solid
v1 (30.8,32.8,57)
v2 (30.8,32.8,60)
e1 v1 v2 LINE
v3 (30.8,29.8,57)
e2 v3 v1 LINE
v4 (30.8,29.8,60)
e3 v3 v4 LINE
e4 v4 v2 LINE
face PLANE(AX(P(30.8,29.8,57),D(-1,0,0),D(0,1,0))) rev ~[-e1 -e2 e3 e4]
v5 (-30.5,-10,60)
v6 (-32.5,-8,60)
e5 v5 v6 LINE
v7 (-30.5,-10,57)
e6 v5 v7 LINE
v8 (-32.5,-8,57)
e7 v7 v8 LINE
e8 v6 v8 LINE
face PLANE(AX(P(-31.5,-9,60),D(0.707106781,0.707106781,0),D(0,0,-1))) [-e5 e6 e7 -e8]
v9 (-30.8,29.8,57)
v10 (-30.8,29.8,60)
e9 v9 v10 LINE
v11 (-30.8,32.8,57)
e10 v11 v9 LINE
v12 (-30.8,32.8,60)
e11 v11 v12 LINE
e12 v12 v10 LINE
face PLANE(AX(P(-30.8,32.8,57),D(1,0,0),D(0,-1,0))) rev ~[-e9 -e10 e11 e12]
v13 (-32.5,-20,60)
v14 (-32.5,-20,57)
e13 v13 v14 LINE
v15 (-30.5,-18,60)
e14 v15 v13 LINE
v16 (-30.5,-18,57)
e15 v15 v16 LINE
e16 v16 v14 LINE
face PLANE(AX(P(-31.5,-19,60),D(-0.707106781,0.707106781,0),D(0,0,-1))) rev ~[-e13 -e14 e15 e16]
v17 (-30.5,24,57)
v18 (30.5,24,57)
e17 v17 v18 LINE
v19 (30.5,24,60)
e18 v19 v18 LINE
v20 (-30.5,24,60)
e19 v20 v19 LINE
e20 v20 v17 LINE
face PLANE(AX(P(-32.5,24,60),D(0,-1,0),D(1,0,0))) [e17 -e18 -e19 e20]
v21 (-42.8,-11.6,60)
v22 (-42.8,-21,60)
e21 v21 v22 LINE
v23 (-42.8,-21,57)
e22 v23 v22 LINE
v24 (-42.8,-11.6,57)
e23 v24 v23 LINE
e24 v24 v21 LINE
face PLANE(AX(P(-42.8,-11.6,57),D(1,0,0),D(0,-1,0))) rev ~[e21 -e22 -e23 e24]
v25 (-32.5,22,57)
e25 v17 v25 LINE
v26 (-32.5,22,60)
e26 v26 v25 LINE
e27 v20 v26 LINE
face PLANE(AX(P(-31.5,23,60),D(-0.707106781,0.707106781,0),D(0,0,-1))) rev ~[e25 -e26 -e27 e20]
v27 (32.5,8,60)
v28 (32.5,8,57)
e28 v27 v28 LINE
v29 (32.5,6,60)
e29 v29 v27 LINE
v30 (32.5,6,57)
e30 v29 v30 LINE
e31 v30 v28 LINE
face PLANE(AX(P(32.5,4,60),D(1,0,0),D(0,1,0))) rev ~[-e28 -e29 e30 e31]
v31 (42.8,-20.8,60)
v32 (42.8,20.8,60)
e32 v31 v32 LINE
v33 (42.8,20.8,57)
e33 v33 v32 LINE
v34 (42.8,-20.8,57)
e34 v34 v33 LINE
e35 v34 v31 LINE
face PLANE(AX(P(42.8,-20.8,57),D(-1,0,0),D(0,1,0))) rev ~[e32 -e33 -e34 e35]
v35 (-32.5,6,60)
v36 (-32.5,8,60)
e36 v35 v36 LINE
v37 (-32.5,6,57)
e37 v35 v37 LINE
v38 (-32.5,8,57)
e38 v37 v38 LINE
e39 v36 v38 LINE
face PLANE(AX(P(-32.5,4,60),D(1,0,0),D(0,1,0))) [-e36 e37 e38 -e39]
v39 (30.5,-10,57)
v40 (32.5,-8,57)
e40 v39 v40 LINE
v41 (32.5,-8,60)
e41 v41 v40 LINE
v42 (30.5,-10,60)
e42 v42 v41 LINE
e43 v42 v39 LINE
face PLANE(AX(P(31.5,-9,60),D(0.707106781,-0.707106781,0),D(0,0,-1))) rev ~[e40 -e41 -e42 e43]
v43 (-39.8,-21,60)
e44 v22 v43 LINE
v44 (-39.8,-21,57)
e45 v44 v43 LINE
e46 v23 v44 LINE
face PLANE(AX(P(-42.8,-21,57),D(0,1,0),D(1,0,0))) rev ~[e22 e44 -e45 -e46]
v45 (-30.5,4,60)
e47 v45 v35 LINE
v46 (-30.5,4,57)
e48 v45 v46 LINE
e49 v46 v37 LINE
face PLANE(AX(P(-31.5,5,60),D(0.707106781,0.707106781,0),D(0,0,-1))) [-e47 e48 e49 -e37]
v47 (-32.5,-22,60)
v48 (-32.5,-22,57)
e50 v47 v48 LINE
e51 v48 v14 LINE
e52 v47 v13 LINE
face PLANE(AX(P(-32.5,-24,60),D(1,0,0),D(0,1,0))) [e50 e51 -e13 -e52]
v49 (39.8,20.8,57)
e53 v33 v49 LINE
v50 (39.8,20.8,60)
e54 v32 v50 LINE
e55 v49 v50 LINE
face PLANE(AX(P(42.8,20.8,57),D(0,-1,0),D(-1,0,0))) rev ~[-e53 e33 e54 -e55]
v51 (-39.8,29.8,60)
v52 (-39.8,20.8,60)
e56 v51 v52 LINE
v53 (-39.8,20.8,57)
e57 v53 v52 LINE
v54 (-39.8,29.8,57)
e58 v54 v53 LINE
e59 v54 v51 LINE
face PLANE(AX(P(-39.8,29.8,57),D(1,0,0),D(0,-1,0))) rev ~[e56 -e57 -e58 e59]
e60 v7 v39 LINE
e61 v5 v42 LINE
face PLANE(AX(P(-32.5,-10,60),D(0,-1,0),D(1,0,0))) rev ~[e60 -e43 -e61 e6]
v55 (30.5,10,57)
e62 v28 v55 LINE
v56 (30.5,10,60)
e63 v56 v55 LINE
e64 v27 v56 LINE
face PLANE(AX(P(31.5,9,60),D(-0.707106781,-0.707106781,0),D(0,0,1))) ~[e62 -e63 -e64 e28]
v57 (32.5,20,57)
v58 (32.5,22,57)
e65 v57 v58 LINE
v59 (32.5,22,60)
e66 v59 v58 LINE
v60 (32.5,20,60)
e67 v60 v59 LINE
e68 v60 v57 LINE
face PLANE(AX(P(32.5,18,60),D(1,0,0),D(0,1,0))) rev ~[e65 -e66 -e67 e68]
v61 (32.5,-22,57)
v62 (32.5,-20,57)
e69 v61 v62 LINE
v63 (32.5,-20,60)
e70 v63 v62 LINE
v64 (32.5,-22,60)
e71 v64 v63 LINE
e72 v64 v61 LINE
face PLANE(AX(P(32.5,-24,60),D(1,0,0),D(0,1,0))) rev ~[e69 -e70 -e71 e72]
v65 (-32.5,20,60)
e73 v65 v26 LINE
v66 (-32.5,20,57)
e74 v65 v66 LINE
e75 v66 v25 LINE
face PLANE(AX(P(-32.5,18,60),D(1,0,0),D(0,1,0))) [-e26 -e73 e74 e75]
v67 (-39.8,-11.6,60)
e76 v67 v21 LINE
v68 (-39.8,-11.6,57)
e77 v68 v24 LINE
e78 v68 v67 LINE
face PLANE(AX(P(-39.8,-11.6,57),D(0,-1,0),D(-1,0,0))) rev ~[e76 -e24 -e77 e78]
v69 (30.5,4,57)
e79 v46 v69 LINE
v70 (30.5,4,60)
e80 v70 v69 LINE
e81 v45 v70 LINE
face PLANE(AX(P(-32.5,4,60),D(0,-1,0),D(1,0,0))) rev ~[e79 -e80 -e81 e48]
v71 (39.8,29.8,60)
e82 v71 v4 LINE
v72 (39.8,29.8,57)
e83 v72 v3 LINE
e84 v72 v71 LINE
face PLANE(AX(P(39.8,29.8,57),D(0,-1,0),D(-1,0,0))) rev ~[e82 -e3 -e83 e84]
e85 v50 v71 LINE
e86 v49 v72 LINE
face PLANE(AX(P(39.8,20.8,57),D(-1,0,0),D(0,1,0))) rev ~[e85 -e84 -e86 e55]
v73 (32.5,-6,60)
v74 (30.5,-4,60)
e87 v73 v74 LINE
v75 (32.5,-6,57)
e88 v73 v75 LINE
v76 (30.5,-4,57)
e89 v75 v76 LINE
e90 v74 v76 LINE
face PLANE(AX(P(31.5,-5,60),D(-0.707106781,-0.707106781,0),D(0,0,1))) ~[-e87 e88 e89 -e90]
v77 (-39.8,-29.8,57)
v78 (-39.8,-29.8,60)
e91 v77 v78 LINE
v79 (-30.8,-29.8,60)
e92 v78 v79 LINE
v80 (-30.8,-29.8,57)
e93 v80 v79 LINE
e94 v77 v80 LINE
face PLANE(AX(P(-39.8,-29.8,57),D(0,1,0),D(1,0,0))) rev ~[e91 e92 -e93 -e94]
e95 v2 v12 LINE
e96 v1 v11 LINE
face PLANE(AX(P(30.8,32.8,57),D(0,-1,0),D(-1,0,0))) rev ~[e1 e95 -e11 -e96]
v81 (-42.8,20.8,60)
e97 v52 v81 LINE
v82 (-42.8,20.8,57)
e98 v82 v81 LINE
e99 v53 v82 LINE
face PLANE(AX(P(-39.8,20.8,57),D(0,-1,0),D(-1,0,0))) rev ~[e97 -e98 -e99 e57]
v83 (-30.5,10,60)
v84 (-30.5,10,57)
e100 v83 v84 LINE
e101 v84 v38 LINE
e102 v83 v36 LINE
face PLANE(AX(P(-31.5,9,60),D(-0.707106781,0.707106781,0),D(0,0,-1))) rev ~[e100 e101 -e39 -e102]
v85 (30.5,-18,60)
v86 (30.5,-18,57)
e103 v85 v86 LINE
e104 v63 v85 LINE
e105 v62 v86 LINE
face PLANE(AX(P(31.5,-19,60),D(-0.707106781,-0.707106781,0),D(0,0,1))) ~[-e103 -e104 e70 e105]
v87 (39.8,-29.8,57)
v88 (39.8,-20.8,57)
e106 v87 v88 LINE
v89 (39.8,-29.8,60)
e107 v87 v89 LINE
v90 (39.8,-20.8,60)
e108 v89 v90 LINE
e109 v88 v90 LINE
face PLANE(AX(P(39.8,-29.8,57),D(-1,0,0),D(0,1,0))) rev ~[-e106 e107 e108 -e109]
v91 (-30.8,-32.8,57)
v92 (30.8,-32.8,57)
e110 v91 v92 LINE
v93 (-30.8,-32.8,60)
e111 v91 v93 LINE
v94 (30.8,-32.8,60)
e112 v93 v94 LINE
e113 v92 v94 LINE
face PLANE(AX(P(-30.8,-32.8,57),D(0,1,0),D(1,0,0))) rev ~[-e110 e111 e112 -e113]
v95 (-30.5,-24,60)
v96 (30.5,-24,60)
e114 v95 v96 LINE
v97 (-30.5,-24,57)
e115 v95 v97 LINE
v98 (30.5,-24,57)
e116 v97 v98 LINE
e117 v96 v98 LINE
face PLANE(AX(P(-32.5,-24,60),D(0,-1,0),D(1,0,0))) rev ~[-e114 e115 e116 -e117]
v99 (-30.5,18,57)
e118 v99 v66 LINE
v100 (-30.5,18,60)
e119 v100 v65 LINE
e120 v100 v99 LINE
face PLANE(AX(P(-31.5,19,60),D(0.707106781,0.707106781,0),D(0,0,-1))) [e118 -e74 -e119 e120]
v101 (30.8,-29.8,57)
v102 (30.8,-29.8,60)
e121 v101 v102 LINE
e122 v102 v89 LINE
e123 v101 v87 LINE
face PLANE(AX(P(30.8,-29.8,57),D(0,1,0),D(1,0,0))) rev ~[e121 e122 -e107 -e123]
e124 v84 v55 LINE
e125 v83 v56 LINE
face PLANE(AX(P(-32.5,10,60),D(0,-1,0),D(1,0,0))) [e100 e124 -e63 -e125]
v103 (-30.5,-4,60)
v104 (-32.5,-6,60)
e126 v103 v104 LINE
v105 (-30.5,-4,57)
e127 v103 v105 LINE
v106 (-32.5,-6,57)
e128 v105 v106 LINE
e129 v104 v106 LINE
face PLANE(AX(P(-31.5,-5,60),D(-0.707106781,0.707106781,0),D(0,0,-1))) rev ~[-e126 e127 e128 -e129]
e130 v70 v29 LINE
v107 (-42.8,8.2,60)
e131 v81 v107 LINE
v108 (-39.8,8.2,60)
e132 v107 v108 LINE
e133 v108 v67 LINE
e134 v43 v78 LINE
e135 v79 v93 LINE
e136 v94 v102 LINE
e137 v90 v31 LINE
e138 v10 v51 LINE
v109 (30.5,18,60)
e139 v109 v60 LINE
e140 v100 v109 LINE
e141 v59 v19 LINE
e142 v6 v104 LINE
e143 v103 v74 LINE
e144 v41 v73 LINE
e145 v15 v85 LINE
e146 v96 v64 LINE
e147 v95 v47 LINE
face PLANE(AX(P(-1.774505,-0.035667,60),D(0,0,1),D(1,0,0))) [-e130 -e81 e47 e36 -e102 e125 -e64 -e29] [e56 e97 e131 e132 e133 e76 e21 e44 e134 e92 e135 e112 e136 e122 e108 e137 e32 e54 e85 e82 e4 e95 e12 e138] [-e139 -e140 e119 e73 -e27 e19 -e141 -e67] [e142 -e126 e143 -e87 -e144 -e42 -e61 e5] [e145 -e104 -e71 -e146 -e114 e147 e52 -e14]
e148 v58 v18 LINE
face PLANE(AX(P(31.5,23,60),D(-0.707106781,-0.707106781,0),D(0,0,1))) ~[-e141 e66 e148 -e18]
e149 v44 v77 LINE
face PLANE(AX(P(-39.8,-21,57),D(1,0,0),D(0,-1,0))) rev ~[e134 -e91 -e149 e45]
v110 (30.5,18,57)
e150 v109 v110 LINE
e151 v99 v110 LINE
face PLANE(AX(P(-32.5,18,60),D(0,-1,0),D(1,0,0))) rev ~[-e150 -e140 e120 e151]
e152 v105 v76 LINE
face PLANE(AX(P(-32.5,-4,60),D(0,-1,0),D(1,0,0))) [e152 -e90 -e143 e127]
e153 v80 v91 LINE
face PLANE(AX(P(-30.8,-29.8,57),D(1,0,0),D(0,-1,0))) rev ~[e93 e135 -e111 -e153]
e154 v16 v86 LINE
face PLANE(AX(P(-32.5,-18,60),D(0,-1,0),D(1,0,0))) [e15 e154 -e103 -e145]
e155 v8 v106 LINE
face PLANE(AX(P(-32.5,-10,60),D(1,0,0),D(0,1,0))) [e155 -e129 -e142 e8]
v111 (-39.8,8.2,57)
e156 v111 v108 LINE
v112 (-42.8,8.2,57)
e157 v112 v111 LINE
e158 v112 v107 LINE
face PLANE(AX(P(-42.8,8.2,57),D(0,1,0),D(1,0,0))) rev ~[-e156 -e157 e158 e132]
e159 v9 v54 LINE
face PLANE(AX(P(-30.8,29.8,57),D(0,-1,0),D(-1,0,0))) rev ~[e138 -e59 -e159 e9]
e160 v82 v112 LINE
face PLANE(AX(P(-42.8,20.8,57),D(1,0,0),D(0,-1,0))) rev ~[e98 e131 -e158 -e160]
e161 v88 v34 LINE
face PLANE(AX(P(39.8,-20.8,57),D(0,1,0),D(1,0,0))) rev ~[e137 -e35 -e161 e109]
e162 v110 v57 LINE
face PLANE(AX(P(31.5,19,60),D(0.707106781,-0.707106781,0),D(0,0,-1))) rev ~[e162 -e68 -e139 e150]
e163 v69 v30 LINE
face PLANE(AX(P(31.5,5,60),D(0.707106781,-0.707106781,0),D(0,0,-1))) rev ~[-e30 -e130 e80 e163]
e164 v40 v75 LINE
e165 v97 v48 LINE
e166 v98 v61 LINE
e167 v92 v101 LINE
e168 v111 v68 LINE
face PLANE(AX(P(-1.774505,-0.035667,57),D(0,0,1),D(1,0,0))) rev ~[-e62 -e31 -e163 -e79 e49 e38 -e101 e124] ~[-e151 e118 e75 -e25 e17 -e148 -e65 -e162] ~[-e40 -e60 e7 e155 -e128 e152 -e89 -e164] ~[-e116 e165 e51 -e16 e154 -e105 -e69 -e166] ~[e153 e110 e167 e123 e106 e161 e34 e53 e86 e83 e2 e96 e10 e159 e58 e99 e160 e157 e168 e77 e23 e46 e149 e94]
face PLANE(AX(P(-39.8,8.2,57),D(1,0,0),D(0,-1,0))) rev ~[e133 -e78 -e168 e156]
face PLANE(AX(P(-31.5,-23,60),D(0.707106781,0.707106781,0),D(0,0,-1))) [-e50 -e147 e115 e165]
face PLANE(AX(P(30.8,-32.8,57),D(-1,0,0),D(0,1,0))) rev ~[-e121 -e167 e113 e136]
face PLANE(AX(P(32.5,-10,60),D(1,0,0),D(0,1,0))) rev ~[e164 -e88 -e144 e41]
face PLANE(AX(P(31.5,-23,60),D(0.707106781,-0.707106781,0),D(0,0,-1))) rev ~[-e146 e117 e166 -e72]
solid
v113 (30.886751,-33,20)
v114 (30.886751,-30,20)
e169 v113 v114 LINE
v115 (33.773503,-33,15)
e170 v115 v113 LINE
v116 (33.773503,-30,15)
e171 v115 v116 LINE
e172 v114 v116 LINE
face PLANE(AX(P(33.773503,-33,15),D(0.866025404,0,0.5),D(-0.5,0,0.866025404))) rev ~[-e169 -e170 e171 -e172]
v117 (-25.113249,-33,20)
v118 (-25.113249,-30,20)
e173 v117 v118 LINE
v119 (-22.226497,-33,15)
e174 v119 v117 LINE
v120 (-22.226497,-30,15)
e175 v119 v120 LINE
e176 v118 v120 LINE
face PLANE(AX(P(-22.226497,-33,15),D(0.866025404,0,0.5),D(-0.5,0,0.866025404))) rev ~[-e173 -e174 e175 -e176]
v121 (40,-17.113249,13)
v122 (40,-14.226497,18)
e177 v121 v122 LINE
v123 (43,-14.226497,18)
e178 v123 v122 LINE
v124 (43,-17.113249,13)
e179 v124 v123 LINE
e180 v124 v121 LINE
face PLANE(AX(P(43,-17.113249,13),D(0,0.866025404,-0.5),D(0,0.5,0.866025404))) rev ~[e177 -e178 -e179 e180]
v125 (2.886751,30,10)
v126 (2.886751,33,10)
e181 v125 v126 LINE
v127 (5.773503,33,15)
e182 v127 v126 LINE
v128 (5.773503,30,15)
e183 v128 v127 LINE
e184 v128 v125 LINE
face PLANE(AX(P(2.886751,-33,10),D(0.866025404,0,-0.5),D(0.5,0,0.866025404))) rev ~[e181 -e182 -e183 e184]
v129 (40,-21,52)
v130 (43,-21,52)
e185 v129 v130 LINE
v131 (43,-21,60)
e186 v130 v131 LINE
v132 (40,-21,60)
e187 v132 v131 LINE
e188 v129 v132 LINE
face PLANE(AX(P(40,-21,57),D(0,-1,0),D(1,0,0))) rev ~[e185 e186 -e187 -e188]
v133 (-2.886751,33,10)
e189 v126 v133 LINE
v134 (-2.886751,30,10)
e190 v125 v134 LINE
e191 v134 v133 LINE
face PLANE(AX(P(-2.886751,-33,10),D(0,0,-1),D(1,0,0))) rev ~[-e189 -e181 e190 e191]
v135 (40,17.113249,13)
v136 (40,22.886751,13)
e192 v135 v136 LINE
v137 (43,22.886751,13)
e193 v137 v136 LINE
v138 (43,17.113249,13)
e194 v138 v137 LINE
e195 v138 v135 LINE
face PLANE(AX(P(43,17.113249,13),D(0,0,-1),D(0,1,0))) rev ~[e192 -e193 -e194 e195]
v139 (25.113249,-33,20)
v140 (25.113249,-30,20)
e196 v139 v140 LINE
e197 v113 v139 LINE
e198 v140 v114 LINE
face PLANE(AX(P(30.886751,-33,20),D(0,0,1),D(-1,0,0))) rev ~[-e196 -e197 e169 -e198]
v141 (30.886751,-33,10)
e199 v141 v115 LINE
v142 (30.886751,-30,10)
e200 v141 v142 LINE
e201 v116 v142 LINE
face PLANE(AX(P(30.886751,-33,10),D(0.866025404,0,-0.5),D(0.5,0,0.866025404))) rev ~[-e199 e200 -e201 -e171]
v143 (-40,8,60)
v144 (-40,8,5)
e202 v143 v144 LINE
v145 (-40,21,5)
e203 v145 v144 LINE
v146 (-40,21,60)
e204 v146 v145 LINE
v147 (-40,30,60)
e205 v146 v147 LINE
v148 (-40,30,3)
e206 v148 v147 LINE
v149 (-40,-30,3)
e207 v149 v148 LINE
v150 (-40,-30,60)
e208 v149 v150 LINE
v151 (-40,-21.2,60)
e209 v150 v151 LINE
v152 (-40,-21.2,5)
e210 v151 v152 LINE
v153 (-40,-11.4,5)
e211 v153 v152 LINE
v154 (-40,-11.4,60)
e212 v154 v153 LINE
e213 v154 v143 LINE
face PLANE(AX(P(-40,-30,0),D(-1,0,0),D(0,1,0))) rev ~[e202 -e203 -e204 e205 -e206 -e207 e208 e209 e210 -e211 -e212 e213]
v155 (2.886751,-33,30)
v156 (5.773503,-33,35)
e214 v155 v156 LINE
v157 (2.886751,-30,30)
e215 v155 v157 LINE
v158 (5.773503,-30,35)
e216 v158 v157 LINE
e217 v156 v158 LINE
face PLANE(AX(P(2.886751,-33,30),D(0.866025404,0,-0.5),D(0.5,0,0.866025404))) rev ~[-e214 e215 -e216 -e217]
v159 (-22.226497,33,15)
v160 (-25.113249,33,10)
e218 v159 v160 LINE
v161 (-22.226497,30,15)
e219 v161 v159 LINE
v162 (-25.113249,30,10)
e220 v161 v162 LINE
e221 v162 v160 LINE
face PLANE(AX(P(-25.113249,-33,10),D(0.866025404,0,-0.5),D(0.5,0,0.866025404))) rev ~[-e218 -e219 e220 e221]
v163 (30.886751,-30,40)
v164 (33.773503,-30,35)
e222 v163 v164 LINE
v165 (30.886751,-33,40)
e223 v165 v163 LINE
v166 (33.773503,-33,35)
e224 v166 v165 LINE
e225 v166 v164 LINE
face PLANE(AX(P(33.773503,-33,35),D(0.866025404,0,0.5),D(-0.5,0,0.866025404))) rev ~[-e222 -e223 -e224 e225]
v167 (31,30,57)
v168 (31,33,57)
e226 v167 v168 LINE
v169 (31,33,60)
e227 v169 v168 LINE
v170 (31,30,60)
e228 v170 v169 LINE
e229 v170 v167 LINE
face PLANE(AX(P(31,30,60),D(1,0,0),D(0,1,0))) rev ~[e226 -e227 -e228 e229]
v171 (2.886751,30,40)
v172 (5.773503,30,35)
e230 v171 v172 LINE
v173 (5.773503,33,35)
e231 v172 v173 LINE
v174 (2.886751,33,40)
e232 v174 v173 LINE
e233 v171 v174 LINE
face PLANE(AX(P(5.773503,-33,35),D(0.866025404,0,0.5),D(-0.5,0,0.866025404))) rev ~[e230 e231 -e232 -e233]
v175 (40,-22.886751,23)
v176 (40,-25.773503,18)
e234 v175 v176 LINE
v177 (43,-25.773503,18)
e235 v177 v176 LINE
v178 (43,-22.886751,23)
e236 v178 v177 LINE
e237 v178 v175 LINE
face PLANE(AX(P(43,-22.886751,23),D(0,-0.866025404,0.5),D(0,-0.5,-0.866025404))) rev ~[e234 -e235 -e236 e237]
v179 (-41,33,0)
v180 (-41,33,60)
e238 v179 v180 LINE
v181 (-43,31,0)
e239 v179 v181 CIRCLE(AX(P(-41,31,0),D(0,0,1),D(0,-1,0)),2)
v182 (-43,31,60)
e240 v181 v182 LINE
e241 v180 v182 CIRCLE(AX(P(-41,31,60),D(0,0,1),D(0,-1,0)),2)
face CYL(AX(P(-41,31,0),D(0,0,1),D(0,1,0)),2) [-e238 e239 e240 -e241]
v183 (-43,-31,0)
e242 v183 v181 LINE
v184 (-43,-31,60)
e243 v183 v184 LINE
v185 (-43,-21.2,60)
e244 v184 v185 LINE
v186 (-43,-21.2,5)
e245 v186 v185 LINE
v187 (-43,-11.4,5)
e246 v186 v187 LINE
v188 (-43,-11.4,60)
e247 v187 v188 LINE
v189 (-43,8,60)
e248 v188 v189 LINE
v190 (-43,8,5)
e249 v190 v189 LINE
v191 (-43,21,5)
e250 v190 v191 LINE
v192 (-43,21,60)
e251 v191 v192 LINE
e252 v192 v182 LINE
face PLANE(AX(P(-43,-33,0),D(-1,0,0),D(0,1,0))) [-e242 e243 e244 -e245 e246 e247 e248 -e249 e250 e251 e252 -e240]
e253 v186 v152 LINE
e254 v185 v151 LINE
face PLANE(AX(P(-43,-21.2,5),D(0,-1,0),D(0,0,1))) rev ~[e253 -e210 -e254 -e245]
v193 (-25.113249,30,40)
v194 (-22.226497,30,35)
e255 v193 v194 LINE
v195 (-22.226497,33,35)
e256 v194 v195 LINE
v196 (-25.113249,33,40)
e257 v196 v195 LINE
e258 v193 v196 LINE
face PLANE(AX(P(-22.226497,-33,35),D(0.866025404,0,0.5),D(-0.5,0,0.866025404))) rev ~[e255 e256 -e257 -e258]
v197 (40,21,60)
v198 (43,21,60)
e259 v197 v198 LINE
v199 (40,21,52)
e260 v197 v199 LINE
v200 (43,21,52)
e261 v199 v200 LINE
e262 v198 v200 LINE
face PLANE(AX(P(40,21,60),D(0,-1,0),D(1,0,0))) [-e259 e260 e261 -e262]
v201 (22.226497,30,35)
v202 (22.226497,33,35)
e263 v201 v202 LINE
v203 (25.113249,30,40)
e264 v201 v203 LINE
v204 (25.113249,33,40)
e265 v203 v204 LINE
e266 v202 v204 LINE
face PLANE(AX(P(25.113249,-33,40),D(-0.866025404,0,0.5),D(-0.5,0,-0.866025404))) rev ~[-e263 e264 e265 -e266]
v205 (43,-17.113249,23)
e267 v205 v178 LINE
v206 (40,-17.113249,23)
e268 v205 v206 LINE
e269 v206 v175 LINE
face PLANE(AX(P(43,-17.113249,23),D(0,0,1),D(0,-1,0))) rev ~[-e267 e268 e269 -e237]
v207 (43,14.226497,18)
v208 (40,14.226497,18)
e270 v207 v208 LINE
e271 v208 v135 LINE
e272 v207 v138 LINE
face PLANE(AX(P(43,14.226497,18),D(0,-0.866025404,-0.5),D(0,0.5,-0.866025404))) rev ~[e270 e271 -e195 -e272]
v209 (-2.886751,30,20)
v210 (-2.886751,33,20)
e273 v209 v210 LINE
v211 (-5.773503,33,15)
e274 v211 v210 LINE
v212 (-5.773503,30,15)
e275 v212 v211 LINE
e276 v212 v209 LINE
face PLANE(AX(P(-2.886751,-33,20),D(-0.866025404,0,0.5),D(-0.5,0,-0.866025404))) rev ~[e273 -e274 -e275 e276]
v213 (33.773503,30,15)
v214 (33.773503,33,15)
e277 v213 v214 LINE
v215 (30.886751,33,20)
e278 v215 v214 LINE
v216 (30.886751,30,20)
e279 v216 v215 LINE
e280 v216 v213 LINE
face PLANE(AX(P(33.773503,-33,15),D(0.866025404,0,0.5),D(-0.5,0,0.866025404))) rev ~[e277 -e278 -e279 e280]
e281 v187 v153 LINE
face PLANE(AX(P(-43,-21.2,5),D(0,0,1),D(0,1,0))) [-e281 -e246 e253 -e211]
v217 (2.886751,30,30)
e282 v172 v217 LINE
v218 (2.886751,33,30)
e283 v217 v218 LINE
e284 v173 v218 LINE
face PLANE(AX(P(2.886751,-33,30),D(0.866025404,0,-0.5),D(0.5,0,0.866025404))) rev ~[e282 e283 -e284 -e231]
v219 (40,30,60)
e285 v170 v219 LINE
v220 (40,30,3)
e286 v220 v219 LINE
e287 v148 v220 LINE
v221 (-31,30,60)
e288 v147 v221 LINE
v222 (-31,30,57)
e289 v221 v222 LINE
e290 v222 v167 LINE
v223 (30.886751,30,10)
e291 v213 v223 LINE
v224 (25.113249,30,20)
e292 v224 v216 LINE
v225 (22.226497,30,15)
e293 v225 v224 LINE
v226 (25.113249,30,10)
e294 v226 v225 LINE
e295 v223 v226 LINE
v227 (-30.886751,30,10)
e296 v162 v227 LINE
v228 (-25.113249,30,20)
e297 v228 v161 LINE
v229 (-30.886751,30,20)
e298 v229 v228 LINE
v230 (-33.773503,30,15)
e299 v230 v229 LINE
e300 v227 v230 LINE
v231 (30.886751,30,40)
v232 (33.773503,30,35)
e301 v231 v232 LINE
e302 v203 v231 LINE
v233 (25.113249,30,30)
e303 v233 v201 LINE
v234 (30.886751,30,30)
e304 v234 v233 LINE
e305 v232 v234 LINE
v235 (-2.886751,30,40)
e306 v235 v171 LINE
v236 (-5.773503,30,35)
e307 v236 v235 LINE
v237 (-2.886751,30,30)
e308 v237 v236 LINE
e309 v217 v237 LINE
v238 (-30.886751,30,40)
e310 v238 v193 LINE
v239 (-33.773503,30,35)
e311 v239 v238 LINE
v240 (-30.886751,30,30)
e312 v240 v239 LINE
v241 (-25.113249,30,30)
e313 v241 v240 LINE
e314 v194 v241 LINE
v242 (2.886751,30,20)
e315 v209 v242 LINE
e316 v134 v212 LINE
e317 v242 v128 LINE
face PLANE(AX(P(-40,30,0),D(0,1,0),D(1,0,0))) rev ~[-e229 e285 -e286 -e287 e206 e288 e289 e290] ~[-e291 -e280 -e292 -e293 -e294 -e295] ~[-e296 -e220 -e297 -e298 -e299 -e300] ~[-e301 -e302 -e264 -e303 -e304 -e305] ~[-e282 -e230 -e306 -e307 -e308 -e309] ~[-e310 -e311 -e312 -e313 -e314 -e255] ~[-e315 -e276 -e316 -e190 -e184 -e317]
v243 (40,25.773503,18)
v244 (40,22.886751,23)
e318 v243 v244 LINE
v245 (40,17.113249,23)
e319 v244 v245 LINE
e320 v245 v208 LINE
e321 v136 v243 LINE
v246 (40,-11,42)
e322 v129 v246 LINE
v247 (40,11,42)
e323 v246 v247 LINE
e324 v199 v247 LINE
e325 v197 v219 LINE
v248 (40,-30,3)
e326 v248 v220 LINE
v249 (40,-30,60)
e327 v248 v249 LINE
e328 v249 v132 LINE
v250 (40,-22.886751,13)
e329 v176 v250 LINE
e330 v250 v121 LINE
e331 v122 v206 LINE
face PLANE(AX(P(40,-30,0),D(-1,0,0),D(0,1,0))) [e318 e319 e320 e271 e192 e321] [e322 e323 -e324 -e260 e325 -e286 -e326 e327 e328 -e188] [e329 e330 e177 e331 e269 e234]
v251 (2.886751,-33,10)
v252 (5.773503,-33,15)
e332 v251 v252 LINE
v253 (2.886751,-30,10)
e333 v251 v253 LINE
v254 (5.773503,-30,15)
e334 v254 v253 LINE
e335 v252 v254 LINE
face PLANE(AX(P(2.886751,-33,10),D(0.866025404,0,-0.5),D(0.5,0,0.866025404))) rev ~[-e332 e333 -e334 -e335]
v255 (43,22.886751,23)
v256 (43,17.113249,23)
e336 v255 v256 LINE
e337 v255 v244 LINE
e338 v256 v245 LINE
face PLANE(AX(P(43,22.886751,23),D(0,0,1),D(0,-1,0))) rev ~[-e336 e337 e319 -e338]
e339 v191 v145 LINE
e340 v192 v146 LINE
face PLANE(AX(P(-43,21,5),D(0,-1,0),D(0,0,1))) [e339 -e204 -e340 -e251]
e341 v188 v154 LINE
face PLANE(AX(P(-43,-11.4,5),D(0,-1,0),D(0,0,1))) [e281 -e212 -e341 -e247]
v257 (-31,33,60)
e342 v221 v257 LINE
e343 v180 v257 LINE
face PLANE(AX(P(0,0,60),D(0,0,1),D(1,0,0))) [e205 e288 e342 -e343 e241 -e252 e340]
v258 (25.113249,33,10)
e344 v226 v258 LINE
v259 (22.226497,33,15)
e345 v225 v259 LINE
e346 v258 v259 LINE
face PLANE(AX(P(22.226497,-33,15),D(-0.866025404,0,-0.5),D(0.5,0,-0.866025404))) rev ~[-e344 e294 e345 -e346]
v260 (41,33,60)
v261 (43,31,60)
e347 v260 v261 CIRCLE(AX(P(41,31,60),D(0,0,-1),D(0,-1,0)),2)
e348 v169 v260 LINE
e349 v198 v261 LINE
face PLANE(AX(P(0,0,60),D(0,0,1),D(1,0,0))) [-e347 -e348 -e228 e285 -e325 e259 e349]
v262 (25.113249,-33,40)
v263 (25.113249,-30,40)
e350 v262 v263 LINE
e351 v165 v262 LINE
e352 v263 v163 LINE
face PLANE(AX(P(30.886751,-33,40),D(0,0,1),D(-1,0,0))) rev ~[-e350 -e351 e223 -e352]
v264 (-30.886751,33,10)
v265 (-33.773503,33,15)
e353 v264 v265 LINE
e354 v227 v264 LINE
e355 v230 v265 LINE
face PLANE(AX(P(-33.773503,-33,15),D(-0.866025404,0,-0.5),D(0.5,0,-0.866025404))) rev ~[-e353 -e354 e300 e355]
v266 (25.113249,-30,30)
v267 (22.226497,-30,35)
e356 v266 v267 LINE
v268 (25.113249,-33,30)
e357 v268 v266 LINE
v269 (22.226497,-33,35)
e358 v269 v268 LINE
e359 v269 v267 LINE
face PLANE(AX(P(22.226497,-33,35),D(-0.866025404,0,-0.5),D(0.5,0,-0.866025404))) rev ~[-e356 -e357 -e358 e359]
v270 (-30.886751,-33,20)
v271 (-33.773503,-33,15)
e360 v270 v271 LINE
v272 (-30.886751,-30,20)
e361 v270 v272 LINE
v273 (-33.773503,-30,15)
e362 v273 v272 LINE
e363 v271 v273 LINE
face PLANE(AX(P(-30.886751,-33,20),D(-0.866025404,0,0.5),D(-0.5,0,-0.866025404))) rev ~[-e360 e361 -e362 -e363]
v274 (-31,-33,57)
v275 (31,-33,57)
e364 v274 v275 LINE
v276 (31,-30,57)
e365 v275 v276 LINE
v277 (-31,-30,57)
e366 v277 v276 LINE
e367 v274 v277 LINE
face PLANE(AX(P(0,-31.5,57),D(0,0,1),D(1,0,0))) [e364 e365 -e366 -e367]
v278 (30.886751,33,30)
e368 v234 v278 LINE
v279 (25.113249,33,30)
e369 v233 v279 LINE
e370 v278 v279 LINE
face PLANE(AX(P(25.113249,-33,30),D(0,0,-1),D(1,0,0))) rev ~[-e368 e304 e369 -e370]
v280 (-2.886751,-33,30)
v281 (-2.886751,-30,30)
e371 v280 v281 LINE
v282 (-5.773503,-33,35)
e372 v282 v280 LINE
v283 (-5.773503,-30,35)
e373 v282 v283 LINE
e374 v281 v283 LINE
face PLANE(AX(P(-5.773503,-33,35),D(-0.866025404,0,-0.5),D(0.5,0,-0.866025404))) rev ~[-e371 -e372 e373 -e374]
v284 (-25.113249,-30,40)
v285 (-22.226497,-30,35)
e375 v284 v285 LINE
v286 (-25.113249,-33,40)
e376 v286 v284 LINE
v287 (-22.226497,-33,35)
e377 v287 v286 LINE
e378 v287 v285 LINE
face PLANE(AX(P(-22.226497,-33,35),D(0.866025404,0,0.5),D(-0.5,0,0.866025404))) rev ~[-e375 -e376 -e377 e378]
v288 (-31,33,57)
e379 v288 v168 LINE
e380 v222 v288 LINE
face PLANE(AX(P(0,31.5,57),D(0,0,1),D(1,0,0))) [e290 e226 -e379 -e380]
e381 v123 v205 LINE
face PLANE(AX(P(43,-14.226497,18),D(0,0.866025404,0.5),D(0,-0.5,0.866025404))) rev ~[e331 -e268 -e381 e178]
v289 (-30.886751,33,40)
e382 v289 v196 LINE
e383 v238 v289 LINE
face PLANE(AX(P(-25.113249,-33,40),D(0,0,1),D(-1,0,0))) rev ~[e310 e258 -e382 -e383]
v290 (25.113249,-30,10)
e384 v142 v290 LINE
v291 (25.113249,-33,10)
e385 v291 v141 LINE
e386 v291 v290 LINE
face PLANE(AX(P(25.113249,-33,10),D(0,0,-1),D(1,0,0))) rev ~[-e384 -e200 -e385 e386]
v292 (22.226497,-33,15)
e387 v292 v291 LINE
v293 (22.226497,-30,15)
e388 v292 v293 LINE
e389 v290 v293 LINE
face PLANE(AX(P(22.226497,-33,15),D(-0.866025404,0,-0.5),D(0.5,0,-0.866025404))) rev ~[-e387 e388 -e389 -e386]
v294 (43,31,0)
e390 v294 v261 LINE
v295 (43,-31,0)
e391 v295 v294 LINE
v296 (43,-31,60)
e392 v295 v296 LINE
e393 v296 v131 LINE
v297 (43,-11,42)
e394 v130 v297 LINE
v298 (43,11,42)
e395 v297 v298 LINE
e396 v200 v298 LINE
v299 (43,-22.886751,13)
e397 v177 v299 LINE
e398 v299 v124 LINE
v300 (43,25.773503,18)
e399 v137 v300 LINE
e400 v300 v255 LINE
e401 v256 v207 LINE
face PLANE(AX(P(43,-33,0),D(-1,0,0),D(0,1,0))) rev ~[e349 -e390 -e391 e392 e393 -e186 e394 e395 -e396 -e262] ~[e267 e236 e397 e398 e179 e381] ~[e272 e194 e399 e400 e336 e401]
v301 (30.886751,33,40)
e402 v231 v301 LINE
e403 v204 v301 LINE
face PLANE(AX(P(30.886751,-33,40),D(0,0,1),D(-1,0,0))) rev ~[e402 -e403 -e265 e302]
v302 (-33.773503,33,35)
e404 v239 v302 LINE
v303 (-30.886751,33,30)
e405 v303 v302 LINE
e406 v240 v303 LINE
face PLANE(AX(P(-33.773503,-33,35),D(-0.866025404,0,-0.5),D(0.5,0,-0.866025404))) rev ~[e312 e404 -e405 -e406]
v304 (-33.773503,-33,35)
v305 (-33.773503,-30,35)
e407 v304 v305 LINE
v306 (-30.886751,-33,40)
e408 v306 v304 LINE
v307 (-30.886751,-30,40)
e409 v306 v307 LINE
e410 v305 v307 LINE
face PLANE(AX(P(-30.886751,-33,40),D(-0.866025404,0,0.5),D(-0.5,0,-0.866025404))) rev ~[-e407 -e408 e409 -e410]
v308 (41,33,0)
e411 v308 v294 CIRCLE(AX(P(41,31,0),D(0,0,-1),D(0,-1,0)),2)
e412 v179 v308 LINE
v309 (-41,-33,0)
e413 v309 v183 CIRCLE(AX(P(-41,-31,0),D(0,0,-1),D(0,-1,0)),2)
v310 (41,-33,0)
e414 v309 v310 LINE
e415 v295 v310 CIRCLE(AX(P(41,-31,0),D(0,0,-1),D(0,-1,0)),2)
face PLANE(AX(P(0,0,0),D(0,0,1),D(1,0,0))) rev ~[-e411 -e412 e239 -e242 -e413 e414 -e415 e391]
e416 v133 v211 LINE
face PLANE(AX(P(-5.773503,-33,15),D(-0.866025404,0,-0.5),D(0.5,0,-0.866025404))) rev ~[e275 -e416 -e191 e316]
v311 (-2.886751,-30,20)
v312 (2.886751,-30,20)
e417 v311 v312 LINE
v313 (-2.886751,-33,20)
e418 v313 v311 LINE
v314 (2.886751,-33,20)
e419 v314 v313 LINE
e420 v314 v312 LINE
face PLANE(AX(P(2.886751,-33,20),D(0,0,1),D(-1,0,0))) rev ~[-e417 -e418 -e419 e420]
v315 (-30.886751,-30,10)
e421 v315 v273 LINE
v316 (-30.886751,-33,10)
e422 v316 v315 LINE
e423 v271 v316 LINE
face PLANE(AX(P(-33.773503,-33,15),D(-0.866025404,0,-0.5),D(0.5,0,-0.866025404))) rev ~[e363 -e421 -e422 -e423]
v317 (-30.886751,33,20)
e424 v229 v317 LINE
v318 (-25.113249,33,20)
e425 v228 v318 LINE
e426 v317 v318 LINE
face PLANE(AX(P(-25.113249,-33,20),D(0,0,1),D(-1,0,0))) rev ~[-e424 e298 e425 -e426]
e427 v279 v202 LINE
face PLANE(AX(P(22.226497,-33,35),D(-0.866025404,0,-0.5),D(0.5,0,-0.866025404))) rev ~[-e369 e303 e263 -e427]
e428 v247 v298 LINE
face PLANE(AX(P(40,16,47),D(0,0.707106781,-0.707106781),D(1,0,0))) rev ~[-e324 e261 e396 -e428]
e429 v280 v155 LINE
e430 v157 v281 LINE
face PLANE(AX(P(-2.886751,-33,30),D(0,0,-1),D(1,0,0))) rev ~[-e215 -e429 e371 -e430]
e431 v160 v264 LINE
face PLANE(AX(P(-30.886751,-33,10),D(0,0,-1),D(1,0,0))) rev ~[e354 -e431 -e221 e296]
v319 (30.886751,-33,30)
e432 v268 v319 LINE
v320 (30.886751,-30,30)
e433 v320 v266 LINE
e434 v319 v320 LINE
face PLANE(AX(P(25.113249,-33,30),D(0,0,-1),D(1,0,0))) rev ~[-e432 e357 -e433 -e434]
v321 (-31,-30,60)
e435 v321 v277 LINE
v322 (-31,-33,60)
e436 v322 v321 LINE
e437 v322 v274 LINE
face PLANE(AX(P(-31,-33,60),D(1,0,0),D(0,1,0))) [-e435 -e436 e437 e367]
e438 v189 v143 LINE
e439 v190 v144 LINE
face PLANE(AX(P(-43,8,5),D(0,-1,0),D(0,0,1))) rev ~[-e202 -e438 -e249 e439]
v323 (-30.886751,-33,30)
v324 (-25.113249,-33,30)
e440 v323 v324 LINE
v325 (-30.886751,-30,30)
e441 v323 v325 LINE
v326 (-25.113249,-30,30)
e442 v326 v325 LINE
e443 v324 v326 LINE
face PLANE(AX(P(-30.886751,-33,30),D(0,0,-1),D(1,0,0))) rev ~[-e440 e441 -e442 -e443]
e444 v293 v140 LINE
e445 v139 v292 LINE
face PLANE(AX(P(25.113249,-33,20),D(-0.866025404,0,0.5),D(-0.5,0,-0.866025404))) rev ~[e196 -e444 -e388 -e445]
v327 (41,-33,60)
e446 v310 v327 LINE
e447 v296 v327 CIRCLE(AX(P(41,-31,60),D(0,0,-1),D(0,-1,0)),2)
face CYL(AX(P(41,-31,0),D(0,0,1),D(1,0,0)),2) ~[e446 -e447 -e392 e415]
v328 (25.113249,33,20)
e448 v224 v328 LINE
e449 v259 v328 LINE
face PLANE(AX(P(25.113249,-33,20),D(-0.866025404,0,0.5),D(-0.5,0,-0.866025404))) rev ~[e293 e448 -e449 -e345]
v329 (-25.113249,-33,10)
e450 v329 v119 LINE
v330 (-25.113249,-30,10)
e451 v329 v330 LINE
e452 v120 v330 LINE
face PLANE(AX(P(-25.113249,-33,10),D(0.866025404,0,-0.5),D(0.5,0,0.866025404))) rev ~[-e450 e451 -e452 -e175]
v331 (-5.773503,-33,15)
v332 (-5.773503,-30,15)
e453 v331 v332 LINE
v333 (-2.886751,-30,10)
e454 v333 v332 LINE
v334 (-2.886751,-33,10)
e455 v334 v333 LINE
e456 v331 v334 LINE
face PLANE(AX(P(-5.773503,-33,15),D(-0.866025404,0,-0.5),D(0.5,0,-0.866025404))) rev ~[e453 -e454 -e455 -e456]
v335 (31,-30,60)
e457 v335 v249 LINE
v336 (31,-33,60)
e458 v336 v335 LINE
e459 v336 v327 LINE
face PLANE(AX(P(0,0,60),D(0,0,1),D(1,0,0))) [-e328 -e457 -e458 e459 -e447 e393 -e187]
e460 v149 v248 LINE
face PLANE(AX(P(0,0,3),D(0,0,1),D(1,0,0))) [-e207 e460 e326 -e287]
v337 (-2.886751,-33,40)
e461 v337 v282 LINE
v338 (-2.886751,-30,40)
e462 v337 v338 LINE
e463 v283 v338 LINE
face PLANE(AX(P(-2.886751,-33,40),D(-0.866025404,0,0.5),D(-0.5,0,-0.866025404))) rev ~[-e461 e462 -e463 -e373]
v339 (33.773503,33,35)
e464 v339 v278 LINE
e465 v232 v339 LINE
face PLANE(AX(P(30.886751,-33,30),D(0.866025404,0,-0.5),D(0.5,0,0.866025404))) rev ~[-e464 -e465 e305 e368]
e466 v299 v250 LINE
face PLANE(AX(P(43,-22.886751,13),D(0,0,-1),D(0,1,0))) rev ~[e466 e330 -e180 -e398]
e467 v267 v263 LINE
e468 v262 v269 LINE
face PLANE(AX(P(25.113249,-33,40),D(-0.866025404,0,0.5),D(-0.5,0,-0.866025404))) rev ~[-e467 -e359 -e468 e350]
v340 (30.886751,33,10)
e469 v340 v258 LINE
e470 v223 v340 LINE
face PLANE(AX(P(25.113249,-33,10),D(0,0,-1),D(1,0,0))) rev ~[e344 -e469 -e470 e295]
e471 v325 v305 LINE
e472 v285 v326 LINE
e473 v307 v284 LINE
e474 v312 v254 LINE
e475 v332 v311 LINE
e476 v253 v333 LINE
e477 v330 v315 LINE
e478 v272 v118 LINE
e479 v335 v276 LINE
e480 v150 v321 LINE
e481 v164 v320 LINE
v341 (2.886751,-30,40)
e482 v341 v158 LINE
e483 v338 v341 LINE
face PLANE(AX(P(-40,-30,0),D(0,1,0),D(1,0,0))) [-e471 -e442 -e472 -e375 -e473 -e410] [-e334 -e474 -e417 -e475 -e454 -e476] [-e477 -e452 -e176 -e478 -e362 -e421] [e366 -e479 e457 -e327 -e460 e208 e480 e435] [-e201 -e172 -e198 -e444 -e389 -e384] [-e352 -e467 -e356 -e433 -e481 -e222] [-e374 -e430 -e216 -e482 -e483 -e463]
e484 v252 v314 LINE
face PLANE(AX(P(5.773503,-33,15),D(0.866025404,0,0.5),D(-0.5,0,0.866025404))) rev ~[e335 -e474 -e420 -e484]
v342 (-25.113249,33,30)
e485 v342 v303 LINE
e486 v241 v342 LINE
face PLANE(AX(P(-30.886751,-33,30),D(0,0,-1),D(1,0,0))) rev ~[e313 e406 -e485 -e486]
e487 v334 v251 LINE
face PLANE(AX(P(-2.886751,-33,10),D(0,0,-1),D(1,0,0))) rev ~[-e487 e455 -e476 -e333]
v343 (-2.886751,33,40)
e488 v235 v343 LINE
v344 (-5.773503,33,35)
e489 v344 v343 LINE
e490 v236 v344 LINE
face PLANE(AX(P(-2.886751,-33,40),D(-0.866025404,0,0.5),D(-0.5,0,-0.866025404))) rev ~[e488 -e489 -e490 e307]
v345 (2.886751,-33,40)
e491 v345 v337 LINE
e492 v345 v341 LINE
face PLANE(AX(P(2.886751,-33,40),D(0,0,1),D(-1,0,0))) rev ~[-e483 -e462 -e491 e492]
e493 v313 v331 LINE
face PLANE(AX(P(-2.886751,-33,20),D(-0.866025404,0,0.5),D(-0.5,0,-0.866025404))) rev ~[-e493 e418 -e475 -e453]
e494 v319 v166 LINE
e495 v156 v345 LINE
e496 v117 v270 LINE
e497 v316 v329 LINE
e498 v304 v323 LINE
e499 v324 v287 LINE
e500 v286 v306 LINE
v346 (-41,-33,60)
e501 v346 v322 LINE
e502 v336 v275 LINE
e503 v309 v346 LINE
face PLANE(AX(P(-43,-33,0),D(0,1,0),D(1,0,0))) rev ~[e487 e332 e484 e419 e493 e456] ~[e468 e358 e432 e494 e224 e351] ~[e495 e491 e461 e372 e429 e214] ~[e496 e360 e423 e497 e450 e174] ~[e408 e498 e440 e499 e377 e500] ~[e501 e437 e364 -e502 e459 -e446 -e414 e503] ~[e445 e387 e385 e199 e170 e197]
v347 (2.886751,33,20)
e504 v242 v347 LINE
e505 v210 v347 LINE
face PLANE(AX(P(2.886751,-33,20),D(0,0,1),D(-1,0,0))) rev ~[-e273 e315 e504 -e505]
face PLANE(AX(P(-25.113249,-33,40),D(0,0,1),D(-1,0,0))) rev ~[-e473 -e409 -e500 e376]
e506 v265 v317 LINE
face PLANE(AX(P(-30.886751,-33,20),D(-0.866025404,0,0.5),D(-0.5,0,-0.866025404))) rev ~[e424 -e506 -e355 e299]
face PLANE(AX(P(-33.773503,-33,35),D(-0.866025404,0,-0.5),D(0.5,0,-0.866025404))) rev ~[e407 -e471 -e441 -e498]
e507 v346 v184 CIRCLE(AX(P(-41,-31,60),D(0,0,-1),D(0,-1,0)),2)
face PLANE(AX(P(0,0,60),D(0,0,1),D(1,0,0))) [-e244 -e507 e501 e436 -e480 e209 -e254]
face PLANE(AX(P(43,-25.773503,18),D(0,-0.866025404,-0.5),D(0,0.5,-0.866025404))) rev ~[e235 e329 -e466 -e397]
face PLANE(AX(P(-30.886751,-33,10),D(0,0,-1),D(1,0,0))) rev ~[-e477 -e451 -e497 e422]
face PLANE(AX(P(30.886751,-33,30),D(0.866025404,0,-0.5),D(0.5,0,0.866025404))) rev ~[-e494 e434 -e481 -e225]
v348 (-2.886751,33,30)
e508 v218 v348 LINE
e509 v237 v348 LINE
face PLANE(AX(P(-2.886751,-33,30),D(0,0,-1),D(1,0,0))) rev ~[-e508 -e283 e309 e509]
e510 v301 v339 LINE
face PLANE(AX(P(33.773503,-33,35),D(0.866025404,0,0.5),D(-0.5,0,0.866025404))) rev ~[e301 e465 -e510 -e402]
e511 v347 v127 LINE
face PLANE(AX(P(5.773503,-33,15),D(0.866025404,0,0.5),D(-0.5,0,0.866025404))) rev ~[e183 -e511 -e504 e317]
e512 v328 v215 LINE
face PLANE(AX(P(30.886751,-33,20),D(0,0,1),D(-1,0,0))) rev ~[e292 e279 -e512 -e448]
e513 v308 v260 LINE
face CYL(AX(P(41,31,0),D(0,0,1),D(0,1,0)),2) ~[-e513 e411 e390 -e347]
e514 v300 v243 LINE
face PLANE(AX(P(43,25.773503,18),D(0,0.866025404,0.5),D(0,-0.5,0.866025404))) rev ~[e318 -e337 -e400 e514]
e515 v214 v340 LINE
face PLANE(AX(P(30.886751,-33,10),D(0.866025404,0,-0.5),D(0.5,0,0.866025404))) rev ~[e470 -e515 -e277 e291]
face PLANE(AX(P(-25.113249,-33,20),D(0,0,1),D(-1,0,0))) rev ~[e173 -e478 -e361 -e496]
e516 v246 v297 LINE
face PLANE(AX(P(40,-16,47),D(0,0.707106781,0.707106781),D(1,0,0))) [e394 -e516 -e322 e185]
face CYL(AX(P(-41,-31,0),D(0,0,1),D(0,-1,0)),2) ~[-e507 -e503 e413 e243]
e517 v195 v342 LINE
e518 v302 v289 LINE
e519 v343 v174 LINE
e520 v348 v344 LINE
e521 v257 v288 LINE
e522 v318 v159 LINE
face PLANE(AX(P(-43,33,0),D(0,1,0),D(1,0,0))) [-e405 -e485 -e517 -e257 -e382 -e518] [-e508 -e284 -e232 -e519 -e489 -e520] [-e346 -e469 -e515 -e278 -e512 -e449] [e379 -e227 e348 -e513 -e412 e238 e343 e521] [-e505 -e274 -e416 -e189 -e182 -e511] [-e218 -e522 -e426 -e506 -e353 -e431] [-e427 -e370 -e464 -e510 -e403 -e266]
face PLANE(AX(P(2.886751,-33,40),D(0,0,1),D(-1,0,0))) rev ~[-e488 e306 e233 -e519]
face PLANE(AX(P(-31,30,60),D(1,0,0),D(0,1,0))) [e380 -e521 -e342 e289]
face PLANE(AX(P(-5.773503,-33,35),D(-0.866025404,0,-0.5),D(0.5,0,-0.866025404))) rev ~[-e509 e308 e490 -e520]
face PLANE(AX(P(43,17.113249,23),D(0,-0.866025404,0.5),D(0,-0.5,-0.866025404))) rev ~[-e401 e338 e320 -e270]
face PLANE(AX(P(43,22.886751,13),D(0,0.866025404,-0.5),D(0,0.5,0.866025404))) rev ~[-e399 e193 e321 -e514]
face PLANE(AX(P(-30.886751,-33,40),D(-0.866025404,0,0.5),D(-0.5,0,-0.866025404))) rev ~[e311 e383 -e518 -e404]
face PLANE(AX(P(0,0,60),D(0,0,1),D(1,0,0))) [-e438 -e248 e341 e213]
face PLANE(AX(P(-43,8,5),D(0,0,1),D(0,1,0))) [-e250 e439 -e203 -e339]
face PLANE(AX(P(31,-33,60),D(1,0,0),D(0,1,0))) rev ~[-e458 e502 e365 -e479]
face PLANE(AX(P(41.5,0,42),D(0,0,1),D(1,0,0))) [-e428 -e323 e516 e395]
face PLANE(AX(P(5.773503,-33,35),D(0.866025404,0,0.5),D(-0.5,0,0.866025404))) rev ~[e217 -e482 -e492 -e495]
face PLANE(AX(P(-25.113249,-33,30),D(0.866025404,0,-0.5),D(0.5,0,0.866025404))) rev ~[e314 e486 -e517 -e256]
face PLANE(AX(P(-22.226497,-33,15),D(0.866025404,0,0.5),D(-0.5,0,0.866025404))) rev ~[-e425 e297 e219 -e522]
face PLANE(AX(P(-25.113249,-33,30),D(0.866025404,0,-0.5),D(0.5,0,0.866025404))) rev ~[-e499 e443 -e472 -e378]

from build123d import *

# Parameters (mm, degrees)
SKETCH1_W           = 86
SKETCH1_H           = 66
SKETCH1_W_2         = 80
SKETCH1_H_2         = 60
BOSS_EXTRUDE1_DEPTH = 60
SKETCH1_2_W         = 80
SKETCH1_2_H         = 60
BOSS_EXTRUDE2_DEPTH = 3
CUT_EXTRUDE1_REACH  = 88
SKETCH2_W           = 55
SKETCH2_H           = 9.8
SKETCH2_H_2         = 13
CUT_EXTRUDE2_DEPTH  = 67
CUT_EXTRUDE3_REACH  = 88
SKETCH5_W           = 62
SKETCH5_H           = 3
SKETCH5_W_2         = 3
SKETCH5_H_2         = 42
CUT_EXTRUDE4_DEPTH  = 3
SKETCH6_W           = 2.8
SKETCH6_H           = 41.6
BOSS_EXTRUDE3_DEPTH = 3
SKETCH7_W           = 65
SKETCH7_H           = 6
CUT_EXTRUDE5_DEPTH  = 3
SKETCH8_W           = 3
SKETCH8_H           = 42
CUT_EXTRUDE6_DEPTH  = 15
CHAMFER1_SIZE       = 2
FILLET1_R           = 2
CHAMFER2_SIZE       = 10


with BuildPart() as part:
    # Sketch1 → Boss-Extrude1 (new body)
    with BuildSketch(Plane.XY):
        Rectangle(SKETCH1_W, SKETCH1_H)
        Rectangle(SKETCH1_W_2, SKETCH1_H_2, mode=Mode.SUBTRACT)
    extrude(amount=BOSS_EXTRUDE1_DEPTH)

    # Sketch1<2> → Boss-Extrude2 (add)
    with BuildSketch(Plane.XY):
        Rectangle(SKETCH1_2_W, SKETCH1_2_H)
    extrude(amount=BOSS_EXTRUDE2_DEPTH)

    # Sketch2 → Cut-Extrude1 (cut, up to next)
    with BuildSketch(Plane.ZY.offset(43), mode=Mode.PRIVATE) as cut_extrude1_sk1:
        with Locations((32.5, -16.3)):
            Rectangle(SKETCH2_W, SKETCH2_H)
    cut_extrude1_tool1 = extrude(cut_extrude1_sk1.sketch, amount=-CUT_EXTRUDE1_REACH, mode=Mode.PRIVATE) & part.part
    add(cut_extrude1_tool1.solids().sort_by_distance((-43, -16.3, 32.5))[0], mode=Mode.SUBTRACT)
    # Sketch2 → Cut-Extrude1 (cut, up to next)
    with BuildSketch(Plane.ZY.offset(43), mode=Mode.PRIVATE) as cut_extrude1_sk2:
        with Locations((32.5, 14.5)):
            Rectangle(SKETCH2_W, SKETCH2_H_2)
    cut_extrude1_tool2 = extrude(cut_extrude1_sk2.sketch, amount=-CUT_EXTRUDE1_REACH, mode=Mode.PRIVATE) & part.part
    add(cut_extrude1_tool2.solids().sort_by_distance((-43, 14.5, 32.5))[0], mode=Mode.SUBTRACT)

    # Sketch3 → Cut-Extrude2 (cut, through all)
    with BuildSketch(Plane.XZ.offset(33)):
        Polygon((-25.113248654, 40), (-30.886751346, 40), (-33.773502692, 35), (-30.886751346, 30), (-25.113248654, 30), (-22.226497308, 35), align=None)
        Polygon((2.886751346, 40), (-2.886751346, 40), (-5.773502692, 35), (-2.886751346, 30), (2.886751346, 30), (5.773502692, 35), align=None)
        Polygon((30.886751346, 40), (25.113248654, 40), (22.226497308, 35), (25.113248654, 30), (30.886751346, 30), (33.773502692, 35), align=None)
        Polygon((30.886751346, 20), (25.113248654, 20), (22.226497308, 15), (25.113248654, 10), (30.886751346, 10), (33.773502692, 15), align=None)
        Polygon((2.886751346, 20), (-2.886751346, 20), (-5.773502692, 15), (-2.886751346, 10), (2.886751346, 10), (5.773502692, 15), align=None)
        Polygon((-25.113248654, 20), (-30.886751346, 20), (-33.773502692, 15), (-30.886751346, 10), (-25.113248654, 10), (-22.226497308, 15), align=None)
    extrude(amount=-CUT_EXTRUDE2_DEPTH, mode=Mode.SUBTRACT)

    # Sketch4 → Cut-Extrude3 (cut, up to next)
    with BuildSketch(Plane(origin=(43, 0, 0), x_dir=(0, 0, -1), z_dir=(1, 0, 0)), mode=Mode.PRIVATE) as cut_extrude3_sk1:
        Polygon((-18, 25.773502692), (-23, 22.886751346), (-23, 17.113248654), (-18, 14.226497308), (-13, 17.113248654), (-13, 22.886751346), align=None)
    cut_extrude3_tool1 = extrude(cut_extrude3_sk1.sketch, amount=-CUT_EXTRUDE3_REACH, mode=Mode.PRIVATE) & part.part
    add(cut_extrude3_tool1.solids().sort_by_distance((43, 20, 18))[0], mode=Mode.SUBTRACT)
    # Sketch4 → Cut-Extrude3 (cut, up to next)
    with BuildSketch(Plane(origin=(43, 0, 0), x_dir=(0, 0, -1), z_dir=(1, 0, 0)), mode=Mode.PRIVATE) as cut_extrude3_sk2:
        Polygon((-18, -14.226497308), (-23, -17.113248654), (-23, -22.886751346), (-18, -25.773502692), (-13, -22.886751346), (-13, -17.113248654), align=None)
    cut_extrude3_tool2 = extrude(cut_extrude3_sk2.sketch, amount=-CUT_EXTRUDE3_REACH, mode=Mode.PRIVATE) & part.part
    add(cut_extrude3_tool2.solids().sort_by_distance((43, -20, 18))[0], mode=Mode.SUBTRACT)

    # Sketch5 → Cut-Extrude4 (cut)
    with BuildSketch(Plane.XY.offset(60)):
        with Locations((0, 31.5)):
            Rectangle(SKETCH5_W, SKETCH5_H)
        with Locations((0, -31.5)):
            Rectangle(SKETCH5_W, SKETCH5_H)
        with Locations((41.5, 0)):
            Rectangle(SKETCH5_W_2, SKETCH5_H_2)
    extrude(amount=-CUT_EXTRUDE4_DEPTH, mode=Mode.SUBTRACT)

    # Sketch8 → Cut-Extrude6 (cut)
    with BuildSketch(Plane.XY.offset(57)):
        with Locations((41.5, 0)):
            Rectangle(SKETCH8_W, SKETCH8_H)
    extrude(amount=-CUT_EXTRUDE6_DEPTH, mode=Mode.SUBTRACT)

    # Fillet1
    fillet1_edges = [part.edges().sort_by_distance(p)[0] for p in [
        (-43, -33, 30),
        (-43, 33, 30),
        (43, 33, 30),
        (43, -33, 30),
    ]]
    fillet(fillet1_edges, radius=FILLET1_R)

    # Chamfer2
    chamfer2_edges = [part.edges().sort_by_distance(p)[0] for p in [
        (41.5, 21, 42),
        (41.5, -21, 42),
    ]]
    chamfer(chamfer2_edges, length=CHAMFER2_SIZE)


with BuildPart() as body_2:
    # Sketch6 → Boss-Extrude3 (new body)
    with BuildSketch(Plane.XY.offset(57)):
        Polygon((40, -20.8), (40, 20.8), (39.8, 20.8), (39.8, 29.8), (30.8, 29.8), (30.8, 32.8), (-30.8, 32.8), (-30.8, 29.8), (-39.8, 29.8), (-39.8, 20.8), (-42.8, 20.8), (-42.8, 8.2), (-39.8, 8.2), (-39.8, -11.6), (-42.8, -11.6), (-42.8, -21), (-39.8, -21), (-39.8, -29.8), (-30.8, -29.8), (-30.8, -32.8), (30.8, -32.8), (30.8, -29.8), (39.8, -29.8), (39.8, -20.8), align=None)
        with Locations((41.4, 0)):
            Rectangle(SKETCH6_W, SKETCH6_H)
    extrude(amount=BOSS_EXTRUDE3_DEPTH)

    # Sketch7 → Cut-Extrude5 (cut)
    with BuildSketch(Plane.XY.offset(60)):
        with Locations((0, 21)):
            Rectangle(SKETCH7_W, SKETCH7_H)
        with Locations((0, 7)):
            Rectangle(SKETCH7_W, SKETCH7_H)
        with Locations((0, -7)):
            Rectangle(SKETCH7_W, SKETCH7_H)
        with Locations((0, -21)):
            Rectangle(SKETCH7_W, SKETCH7_H)
    extrude(amount=-CUT_EXTRUDE5_DEPTH, mode=Mode.SUBTRACT)

    # Chamfer1
    chamfer1_edges = [body_2.edges().sort_by_distance(p)[0] for p in [
        (-32.5, -10, 58.5),
        (-32.5, -4, 58.5),
        (32.5, -4, 58.5),
        (32.5, -10, 58.5),
        (-32.5, -24, 58.5),
        (-32.5, -18, 58.5),
        (32.5, -18, 58.5),
        (32.5, -24, 58.5),
        (-32.5, 18, 58.5),
        (-32.5, 24, 58.5),
        (32.5, 24, 58.5),
        (32.5, 18, 58.5),
        (-32.5, 4, 58.5),
        (-32.5, 10, 58.5),
        (32.5, 10, 58.5),
        (32.5, 4, 58.5),
    ]]
    chamfer(chamfer1_edges, length=CHAMFER1_SIZE)


solid = Compound([part.part, body_2.part])
